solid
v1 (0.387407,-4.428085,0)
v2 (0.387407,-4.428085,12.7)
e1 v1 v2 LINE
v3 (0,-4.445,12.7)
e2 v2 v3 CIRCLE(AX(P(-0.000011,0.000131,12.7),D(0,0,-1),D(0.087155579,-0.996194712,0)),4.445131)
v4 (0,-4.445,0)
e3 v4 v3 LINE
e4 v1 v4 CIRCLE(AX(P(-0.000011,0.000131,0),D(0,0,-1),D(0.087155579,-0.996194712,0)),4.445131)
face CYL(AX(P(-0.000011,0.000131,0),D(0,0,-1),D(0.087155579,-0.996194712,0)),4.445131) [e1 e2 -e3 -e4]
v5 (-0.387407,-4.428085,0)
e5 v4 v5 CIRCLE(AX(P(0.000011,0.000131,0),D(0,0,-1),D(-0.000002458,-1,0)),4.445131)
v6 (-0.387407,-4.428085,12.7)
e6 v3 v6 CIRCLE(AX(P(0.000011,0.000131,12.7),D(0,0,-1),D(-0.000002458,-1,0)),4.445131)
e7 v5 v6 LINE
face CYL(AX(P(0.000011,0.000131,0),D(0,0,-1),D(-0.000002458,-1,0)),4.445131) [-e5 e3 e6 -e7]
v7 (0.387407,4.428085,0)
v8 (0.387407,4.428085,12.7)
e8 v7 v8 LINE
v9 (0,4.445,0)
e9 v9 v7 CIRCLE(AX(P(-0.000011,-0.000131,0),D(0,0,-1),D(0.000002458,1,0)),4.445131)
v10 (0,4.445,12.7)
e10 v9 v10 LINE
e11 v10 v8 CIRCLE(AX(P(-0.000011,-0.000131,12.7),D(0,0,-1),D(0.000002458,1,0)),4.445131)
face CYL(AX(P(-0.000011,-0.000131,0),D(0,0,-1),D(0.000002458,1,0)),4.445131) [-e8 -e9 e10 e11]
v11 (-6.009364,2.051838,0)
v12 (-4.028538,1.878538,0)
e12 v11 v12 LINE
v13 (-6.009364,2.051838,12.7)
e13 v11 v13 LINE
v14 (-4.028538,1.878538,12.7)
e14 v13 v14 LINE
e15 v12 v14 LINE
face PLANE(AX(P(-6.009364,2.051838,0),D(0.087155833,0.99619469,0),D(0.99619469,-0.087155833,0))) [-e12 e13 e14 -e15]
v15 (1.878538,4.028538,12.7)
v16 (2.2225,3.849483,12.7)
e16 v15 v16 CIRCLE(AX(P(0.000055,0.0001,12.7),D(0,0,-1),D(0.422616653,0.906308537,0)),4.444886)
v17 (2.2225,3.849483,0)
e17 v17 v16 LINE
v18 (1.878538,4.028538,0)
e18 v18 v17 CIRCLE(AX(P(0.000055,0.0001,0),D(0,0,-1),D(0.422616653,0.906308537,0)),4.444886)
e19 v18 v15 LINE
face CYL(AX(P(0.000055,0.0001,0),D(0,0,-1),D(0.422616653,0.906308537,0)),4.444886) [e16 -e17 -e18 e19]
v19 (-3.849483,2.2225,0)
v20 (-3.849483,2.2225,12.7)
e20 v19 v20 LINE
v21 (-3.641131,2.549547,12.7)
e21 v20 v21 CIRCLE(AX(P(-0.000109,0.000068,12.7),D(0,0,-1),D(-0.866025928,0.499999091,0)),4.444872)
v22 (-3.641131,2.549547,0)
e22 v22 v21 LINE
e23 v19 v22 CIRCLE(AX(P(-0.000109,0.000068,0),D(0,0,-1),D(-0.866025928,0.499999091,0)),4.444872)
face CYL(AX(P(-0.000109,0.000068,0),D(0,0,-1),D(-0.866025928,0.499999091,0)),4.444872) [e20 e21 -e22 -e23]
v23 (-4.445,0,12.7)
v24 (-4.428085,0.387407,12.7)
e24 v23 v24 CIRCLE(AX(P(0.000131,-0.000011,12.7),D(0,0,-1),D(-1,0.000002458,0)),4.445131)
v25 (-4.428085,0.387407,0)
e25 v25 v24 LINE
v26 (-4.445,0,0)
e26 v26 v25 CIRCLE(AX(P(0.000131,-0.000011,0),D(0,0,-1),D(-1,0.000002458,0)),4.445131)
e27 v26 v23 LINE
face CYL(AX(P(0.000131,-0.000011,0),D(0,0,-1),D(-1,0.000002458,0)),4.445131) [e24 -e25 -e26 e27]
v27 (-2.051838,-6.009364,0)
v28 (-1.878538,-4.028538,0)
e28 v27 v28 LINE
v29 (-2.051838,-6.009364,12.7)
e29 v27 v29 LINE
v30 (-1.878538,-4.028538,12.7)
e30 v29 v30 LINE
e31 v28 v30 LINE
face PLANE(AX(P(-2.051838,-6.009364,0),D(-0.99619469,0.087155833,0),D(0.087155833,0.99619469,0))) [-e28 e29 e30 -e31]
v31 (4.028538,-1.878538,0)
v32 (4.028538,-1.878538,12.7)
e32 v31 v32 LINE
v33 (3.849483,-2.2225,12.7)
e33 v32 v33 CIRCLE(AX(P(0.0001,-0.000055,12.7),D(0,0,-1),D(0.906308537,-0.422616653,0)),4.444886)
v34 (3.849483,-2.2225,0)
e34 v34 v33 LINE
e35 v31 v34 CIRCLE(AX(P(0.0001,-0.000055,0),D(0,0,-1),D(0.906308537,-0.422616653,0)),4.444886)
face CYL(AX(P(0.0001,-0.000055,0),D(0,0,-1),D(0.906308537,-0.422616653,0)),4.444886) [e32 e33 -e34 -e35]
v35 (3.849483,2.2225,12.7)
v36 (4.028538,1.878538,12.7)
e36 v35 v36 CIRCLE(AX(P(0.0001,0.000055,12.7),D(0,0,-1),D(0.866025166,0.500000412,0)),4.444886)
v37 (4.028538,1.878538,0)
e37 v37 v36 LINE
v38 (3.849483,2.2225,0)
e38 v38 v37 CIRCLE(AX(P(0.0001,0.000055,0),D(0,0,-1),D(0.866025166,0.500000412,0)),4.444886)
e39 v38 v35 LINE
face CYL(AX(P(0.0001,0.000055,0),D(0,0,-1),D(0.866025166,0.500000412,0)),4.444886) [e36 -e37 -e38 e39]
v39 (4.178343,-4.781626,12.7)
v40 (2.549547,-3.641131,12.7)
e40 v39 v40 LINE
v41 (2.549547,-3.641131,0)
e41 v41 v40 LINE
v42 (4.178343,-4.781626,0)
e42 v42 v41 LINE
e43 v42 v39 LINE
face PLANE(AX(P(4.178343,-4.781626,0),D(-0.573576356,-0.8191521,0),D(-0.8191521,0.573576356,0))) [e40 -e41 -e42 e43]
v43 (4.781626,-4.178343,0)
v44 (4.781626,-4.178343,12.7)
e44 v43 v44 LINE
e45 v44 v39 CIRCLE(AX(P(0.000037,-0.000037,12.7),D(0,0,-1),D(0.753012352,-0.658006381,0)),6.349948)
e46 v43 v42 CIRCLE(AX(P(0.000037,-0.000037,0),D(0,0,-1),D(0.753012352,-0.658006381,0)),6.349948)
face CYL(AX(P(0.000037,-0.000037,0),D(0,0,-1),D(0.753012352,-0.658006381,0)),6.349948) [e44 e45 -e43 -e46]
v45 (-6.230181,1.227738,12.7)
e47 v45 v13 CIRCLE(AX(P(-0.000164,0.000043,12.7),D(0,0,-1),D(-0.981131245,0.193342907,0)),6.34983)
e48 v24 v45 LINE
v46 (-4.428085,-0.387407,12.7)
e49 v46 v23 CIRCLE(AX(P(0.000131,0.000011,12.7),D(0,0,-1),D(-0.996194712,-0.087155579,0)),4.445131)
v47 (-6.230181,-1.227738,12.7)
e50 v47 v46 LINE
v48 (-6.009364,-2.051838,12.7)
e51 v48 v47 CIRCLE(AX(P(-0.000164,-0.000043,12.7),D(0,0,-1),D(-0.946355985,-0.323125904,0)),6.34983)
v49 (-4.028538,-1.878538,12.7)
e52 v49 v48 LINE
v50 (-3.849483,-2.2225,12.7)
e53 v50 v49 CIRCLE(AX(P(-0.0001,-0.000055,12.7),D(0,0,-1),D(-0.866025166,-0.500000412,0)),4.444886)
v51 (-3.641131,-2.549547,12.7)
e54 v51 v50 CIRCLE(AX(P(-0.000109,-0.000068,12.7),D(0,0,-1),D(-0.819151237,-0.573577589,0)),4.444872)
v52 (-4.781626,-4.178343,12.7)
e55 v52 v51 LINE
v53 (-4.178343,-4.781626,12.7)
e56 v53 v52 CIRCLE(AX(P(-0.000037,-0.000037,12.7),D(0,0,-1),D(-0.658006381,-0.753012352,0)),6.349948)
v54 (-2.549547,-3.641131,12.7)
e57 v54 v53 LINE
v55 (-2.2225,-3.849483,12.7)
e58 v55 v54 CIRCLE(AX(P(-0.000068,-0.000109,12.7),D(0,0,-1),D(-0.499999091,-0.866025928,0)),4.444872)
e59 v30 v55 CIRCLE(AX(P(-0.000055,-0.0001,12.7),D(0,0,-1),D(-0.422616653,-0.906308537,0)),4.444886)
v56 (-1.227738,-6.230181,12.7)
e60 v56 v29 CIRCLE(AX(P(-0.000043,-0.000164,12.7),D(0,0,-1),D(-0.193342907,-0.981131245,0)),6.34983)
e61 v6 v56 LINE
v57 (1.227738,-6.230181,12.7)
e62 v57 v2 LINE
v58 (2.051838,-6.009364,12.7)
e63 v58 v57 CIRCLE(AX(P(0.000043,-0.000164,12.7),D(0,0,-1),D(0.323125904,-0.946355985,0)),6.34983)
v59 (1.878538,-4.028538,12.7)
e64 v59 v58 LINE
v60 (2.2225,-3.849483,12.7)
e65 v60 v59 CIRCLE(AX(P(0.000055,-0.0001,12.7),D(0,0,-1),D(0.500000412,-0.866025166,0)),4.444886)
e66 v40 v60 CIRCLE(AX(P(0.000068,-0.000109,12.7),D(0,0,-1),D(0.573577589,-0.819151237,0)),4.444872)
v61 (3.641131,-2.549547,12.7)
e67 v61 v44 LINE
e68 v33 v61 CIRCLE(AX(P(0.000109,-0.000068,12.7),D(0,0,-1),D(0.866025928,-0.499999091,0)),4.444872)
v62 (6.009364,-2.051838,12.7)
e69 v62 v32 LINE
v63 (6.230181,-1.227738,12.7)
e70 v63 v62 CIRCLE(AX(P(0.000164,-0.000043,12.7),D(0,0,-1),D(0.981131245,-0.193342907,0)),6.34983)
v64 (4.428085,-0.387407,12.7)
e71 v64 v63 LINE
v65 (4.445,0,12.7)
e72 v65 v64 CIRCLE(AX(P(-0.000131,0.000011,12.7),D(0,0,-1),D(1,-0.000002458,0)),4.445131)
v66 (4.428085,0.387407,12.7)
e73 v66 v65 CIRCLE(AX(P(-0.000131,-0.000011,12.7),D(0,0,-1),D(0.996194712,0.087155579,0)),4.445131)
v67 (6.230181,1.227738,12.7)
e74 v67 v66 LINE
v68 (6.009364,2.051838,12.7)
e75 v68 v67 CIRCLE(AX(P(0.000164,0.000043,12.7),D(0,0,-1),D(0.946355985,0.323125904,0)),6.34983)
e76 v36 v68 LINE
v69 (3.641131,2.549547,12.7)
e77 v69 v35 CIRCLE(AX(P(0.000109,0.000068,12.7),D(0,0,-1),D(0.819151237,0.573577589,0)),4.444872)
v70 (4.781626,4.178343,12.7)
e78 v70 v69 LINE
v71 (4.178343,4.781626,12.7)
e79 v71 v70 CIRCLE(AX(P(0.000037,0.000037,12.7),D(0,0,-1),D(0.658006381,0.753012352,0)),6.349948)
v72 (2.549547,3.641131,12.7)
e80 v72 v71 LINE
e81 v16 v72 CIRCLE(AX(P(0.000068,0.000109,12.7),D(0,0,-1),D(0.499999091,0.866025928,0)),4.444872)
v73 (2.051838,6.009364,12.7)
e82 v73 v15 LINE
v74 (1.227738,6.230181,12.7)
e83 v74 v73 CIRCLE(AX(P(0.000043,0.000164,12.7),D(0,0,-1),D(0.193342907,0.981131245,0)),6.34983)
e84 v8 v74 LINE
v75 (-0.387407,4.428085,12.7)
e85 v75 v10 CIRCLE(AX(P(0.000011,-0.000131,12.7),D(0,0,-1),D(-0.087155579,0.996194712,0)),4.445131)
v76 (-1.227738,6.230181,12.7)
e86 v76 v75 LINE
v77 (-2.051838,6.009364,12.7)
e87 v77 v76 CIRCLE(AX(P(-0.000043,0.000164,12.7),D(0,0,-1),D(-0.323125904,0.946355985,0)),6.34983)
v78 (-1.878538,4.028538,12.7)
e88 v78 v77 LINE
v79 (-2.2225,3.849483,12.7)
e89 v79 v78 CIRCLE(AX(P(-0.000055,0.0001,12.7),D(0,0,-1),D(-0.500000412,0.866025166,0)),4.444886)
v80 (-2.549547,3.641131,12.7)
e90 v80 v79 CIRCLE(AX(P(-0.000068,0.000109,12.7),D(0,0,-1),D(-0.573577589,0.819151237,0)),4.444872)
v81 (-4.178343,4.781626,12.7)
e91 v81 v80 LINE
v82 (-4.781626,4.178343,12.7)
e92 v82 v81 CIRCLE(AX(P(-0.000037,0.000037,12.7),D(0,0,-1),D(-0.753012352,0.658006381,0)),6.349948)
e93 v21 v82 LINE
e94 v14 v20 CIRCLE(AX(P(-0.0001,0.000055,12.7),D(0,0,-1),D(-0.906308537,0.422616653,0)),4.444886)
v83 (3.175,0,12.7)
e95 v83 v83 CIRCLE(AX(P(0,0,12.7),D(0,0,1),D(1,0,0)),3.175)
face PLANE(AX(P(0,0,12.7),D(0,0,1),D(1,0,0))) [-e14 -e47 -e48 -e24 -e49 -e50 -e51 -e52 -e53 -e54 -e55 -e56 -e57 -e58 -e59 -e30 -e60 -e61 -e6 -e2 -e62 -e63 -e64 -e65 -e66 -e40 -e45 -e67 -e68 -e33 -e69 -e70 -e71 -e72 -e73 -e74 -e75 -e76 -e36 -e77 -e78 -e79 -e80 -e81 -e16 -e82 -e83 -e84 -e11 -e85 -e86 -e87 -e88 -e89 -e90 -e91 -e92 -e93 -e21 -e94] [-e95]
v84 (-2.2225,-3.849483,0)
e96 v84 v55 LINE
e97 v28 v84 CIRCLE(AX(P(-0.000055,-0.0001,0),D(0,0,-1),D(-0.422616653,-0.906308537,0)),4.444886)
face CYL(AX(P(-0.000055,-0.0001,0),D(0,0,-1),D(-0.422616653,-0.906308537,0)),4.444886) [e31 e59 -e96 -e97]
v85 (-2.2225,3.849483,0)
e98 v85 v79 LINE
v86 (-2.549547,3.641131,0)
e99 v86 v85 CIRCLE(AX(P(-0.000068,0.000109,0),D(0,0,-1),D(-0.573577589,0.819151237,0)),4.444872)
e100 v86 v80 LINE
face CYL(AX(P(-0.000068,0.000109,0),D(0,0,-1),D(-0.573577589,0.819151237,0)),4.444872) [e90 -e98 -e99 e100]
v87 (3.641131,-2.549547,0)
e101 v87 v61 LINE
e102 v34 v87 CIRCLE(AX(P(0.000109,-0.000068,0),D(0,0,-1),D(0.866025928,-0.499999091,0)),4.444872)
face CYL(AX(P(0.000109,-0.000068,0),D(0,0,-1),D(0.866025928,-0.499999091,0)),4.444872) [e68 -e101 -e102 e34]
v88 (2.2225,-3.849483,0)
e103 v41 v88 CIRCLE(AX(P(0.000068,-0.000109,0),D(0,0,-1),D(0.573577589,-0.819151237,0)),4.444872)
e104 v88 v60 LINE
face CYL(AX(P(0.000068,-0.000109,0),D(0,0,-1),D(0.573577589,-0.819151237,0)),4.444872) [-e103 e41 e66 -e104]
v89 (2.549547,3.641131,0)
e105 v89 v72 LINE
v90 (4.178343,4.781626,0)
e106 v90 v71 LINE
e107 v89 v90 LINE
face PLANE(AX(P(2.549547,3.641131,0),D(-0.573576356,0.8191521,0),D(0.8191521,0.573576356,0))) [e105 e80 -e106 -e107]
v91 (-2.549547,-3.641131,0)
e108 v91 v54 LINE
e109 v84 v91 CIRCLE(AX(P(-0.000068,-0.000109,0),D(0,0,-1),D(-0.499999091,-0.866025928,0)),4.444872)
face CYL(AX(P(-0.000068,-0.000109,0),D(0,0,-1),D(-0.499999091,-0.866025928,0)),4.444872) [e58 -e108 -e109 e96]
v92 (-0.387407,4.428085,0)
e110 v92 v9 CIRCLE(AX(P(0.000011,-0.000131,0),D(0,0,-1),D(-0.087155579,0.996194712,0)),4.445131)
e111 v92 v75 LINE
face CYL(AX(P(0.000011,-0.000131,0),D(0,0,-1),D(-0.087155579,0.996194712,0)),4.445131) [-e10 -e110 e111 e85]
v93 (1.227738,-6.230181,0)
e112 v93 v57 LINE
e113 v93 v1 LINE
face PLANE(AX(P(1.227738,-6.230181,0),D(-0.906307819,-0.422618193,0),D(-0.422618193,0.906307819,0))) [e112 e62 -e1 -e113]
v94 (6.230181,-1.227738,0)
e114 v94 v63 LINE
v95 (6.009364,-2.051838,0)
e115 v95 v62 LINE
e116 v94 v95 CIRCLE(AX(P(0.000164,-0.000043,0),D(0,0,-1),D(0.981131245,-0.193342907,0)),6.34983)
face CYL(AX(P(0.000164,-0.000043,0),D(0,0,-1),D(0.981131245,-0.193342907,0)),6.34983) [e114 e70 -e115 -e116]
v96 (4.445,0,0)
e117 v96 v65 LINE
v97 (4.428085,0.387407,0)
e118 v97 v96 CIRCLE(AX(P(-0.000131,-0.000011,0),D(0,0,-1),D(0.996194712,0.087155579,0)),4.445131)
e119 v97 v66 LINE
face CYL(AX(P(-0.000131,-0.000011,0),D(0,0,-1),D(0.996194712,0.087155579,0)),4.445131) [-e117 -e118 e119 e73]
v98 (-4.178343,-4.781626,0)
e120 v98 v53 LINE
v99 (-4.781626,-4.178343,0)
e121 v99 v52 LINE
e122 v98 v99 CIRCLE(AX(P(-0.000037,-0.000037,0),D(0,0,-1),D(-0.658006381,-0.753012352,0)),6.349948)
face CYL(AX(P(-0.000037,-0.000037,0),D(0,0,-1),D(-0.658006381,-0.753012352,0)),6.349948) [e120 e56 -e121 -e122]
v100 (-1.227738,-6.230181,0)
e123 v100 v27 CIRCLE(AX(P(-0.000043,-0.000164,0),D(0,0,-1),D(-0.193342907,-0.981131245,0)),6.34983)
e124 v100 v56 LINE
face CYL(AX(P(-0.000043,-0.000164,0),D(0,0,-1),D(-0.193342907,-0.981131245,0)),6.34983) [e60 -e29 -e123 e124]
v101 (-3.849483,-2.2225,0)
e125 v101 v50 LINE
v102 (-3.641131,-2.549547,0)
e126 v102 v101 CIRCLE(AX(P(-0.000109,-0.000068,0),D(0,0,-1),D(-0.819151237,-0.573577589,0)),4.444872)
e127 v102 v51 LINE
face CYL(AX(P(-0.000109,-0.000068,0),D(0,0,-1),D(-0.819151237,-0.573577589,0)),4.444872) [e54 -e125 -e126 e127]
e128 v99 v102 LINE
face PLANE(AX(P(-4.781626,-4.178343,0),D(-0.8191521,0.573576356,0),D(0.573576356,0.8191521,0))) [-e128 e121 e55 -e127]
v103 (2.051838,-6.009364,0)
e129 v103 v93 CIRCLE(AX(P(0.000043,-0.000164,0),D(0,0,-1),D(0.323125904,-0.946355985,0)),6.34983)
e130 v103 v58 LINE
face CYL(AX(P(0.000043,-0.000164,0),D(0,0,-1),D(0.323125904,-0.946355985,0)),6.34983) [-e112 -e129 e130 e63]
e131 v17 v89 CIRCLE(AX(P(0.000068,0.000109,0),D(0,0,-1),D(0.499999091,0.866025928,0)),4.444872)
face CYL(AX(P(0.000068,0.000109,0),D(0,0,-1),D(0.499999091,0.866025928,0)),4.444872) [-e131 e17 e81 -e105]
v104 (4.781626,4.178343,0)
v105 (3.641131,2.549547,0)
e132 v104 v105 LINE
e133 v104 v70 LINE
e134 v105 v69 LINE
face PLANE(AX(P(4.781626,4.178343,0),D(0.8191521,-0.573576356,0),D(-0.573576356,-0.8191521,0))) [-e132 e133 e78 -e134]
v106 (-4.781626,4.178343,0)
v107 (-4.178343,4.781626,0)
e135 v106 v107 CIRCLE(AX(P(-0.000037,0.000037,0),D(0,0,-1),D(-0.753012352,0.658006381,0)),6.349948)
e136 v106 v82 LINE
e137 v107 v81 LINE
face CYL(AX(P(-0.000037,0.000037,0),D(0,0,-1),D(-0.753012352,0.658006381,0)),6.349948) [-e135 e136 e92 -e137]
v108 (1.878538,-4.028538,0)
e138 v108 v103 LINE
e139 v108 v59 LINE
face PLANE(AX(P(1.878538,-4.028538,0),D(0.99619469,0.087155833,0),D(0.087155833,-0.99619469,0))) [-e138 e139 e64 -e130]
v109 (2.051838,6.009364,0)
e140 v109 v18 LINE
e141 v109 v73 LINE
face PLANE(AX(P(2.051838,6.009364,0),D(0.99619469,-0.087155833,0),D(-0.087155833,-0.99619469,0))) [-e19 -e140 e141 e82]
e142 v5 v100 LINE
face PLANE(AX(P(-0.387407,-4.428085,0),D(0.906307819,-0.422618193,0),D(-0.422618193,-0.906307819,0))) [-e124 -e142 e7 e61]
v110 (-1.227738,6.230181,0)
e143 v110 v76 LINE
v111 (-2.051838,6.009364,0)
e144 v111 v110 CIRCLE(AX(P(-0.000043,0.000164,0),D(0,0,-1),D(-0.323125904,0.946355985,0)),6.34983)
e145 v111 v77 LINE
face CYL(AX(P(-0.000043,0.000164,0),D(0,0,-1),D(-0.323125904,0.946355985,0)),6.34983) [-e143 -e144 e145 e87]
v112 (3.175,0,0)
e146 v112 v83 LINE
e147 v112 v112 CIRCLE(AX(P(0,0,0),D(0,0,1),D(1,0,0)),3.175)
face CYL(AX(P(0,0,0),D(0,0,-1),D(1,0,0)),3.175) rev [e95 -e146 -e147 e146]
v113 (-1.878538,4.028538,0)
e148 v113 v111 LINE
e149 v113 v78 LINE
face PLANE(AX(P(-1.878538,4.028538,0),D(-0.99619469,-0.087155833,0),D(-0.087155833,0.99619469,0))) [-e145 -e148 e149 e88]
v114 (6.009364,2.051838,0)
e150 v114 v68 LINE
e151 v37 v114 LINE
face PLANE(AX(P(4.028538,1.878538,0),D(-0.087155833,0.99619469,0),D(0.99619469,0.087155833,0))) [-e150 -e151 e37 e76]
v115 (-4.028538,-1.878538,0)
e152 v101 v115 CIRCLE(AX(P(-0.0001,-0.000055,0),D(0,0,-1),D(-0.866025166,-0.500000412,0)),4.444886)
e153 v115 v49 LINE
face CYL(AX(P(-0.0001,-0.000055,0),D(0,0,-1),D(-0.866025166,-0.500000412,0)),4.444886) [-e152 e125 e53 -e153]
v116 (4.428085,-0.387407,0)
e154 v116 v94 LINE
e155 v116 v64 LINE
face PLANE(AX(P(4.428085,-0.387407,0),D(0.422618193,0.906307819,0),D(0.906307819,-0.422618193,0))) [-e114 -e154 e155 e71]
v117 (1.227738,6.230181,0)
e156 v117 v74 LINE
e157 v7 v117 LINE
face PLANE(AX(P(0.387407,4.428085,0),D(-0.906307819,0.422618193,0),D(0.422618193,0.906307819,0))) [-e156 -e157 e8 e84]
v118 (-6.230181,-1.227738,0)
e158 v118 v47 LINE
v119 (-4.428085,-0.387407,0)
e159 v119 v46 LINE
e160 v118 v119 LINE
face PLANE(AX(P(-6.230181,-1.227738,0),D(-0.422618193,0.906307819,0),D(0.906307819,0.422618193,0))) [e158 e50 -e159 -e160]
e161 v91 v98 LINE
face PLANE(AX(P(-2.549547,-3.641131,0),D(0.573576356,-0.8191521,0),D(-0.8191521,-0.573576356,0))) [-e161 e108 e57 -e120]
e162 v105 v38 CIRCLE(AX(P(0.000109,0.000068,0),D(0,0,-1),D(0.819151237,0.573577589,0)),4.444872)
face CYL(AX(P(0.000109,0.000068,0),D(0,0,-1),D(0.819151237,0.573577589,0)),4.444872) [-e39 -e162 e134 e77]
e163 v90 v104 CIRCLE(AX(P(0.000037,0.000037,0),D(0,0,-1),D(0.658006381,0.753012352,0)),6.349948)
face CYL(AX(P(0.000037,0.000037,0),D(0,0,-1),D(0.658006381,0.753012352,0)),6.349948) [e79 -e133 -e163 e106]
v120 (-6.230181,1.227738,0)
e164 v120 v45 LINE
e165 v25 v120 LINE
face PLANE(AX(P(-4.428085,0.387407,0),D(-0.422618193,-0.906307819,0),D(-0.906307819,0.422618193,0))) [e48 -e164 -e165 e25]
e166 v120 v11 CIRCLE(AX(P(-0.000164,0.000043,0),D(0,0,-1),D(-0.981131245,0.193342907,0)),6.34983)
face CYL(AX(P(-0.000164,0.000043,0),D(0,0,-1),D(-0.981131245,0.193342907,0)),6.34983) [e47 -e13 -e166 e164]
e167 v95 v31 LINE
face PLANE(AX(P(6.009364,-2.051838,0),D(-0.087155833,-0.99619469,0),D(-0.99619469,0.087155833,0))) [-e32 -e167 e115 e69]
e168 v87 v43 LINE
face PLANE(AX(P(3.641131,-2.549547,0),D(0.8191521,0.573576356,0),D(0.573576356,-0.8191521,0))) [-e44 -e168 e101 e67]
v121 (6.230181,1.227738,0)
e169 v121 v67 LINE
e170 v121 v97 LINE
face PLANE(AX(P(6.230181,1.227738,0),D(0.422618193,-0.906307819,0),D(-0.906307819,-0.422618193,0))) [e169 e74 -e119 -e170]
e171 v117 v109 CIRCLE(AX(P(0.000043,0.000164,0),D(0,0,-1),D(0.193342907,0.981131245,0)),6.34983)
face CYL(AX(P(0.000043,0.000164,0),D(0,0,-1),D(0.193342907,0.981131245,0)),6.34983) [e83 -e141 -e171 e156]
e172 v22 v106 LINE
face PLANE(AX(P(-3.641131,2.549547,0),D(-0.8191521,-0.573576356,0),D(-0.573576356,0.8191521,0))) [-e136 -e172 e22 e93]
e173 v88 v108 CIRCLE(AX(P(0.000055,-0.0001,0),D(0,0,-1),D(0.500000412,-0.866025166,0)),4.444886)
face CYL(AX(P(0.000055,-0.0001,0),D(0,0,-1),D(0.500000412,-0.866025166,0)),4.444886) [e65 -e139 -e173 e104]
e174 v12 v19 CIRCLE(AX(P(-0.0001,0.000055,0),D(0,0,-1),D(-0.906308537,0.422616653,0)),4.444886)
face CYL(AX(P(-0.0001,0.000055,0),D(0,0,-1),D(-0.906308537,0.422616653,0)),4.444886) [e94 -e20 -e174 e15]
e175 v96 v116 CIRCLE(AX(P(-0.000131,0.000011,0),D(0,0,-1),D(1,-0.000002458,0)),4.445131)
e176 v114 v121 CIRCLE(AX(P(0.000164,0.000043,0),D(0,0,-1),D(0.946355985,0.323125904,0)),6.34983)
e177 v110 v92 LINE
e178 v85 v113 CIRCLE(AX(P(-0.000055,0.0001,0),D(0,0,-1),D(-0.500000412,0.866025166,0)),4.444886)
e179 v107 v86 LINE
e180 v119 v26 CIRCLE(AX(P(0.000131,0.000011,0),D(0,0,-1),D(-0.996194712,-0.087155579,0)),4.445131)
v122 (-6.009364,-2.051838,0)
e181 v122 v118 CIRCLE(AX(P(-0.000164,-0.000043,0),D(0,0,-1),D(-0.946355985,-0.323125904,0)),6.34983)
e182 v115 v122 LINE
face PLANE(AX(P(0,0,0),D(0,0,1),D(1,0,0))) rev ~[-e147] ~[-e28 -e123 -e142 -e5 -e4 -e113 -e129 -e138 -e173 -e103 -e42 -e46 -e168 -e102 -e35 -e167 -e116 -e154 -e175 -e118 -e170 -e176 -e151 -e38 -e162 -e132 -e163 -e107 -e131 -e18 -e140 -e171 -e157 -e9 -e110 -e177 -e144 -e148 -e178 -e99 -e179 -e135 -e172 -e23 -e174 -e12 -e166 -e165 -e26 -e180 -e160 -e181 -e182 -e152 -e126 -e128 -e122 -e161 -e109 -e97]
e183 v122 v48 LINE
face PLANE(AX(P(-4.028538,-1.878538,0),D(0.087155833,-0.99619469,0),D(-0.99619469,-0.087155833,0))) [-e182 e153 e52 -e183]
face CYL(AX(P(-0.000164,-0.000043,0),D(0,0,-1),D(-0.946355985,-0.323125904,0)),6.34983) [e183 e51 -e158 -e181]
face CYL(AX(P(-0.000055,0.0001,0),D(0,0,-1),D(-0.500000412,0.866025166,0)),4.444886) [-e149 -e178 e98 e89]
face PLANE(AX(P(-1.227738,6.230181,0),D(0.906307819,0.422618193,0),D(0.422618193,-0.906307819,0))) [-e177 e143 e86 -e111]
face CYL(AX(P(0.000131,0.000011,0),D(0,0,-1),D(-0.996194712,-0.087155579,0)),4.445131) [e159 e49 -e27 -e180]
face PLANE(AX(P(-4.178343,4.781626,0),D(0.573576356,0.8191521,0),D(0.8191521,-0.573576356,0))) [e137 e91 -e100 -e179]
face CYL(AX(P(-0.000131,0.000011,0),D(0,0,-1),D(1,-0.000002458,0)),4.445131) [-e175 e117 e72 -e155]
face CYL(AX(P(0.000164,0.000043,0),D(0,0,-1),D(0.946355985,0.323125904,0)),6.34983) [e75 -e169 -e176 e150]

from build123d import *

# Parameters (mm, degrees)
F0_R     = 6.35
F0_R_2   = 3.175
F1_DEPTH = 12.7
F2_R     = 6.699885
F3_DEPTH = 12.7


with BuildPart() as f1:
    # F0 (on Top) → F1 (new body)
    with BuildSketch(Plane.XY):
        Circle(F0_R)
        Circle(F0_R_2, mode=Mode.SUBTRACT)
    extrude(amount=F1_DEPTH)

    # F2 (on Top) → F3 (cut, through all)
    with BuildSketch(Plane.XY):
        Circle(F2_R)
        with BuildLine():
            ThreePointArc((-4.428085, -0.387407), (-4.440769, -0.193888), (-4.445, 0))
            ThreePointArc((-4.445, 0), (-4.440769, 0.193888), (-4.428085, 0.387407))
            Line((-4.428085, 0.387407), (-6.230181, 1.227738))
            ThreePointArc((-6.230181, 1.227738), (-6.133629, 1.643501), (-6.009364, 2.051838))
            Line((-6.009364, 2.051838), (-4.028538, 1.878538))
            ThreePointArc((-4.028538, 1.878538), (-3.942763, 2.052473), (-3.849483, 2.2225))
            ThreePointArc((-3.849483, 2.2225), (-3.748875, 2.388297), (-3.641131, 2.549547))
            Line((-3.641131, 2.549547), (-4.781626, 4.178343))
            ThreePointArc((-4.781626, 4.178343), (-4.490128, 4.490128), (-4.178343, 4.781626))
            Line((-4.178343, 4.781626), (-2.549547, 3.641131))
            ThreePointArc((-2.549547, 3.641131), (-2.388297, 3.748875), (-2.2225, 3.849483))
            ThreePointArc((-2.2225, 3.849483), (-2.052473, 3.942763), (-1.878538, 4.028538))
            Line((-1.878538, 4.028538), (-2.051838, 6.009364))
            ThreePointArc((-2.051838, 6.009364), (-1.643501, 6.133629), (-1.227738, 6.230181))
            Line((-1.227738, 6.230181), (-0.387407, 4.428085))
            ThreePointArc((-0.387407, 4.428085), (-0.193888, 4.440769), (0, 4.445))
            ThreePointArc((0, 4.445), (0.193888, 4.440769), (0.387407, 4.428085))
            Line((0.387407, 4.428085), (1.227738, 6.230181))
            ThreePointArc((1.227738, 6.230181), (1.643501, 6.133629), (2.051838, 6.009364))
            Line((2.051838, 6.009364), (1.878538, 4.028538))
            ThreePointArc((1.878538, 4.028538), (2.052473, 3.942763), (2.2225, 3.849483))
            ThreePointArc((2.2225, 3.849483), (2.388297, 3.748875), (2.549547, 3.641131))
            Line((2.549547, 3.641131), (4.178343, 4.781626))
            ThreePointArc((4.178343, 4.781626), (4.490128, 4.490128), (4.781626, 4.178343))
            Line((4.781626, 4.178343), (3.641131, 2.549547))
            ThreePointArc((3.641131, 2.549547), (3.748875, 2.388297), (3.849483, 2.2225))
            ThreePointArc((3.849483, 2.2225), (3.942763, 2.052473), (4.028538, 1.878538))
            Line((4.028538, 1.878538), (6.009364, 2.051838))
            ThreePointArc((6.009364, 2.051838), (6.133629, 1.643501), (6.230181, 1.227738))
            Line((6.230181, 1.227738), (4.428085, 0.387407))
            ThreePointArc((4.428085, 0.387407), (4.440769, 0.193888), (4.445, 0))
            ThreePointArc((4.445, 0), (4.440769, -0.193888), (4.428085, -0.387407))
            Line((4.428085, -0.387407), (6.230181, -1.227738))
            ThreePointArc((6.230181, -1.227738), (6.133629, -1.643501), (6.009364, -2.051838))
            Line((6.009364, -2.051838), (4.028538, -1.878538))
            ThreePointArc((4.028538, -1.878538), (3.942763, -2.052473), (3.849483, -2.2225))
            ThreePointArc((3.849483, -2.2225), (3.748875, -2.388297), (3.641131, -2.549547))
            Line((3.641131, -2.549547), (4.781626, -4.178343))
            ThreePointArc((4.781626, -4.178343), (4.490128, -4.490128), (4.178343, -4.781626))
            Line((4.178343, -4.781626), (2.549547, -3.641131))
            ThreePointArc((2.549547, -3.641131), (2.388297, -3.748875), (2.2225, -3.849483))
            ThreePointArc((2.2225, -3.849483), (2.052473, -3.942763), (1.878538, -4.028538))
            Line((1.878538, -4.028538), (2.051838, -6.009364))
            ThreePointArc((2.051838, -6.009364), (1.643501, -6.133629), (1.227738, -6.230181))
            Line((1.227738, -6.230181), (0.387407, -4.428085))
            ThreePointArc((0.387407, -4.428085), (0.193888, -4.440769), (0, -4.445))
            ThreePointArc((0, -4.445), (-0.193888, -4.440769), (-0.387407, -4.428085))
            Line((-0.387407, -4.428085), (-1.227738, -6.230181))
            ThreePointArc((-1.227738, -6.230181), (-1.643501, -6.133629), (-2.051838, -6.009364))
            Line((-2.051838, -6.009364), (-1.878538, -4.028538))
            ThreePointArc((-1.878538, -4.028538), (-2.052473, -3.942763), (-2.2225, -3.849483))
            ThreePointArc((-2.2225, -3.849483), (-2.388297, -3.748875), (-2.549547, -3.641131))
            Line((-2.549547, -3.641131), (-4.178343, -4.781626))
            ThreePointArc((-4.178343, -4.781626), (-4.490128, -4.490128), (-4.781626, -4.178343))
            Line((-4.781626, -4.178343), (-3.641131, -2.549547))
            ThreePointArc((-3.641131, -2.549547), (-3.748875, -2.388297), (-3.849483, -2.2225))
            ThreePointArc((-3.849483, -2.2225), (-3.942763, -2.052473), (-4.028538, -1.878538))
            Line((-4.028538, -1.878538), (-6.009364, -2.051838))
            ThreePointArc((-6.009364, -2.051838), (-6.133629, -1.643501), (-6.230181, -1.227738))
            Line((-6.230181, -1.227738), (-4.428085, -0.387407))
        make_face(mode=Mode.SUBTRACT)
    extrude(amount=F3_DEPTH, mode=Mode.SUBTRACT)


solid = f1.part
